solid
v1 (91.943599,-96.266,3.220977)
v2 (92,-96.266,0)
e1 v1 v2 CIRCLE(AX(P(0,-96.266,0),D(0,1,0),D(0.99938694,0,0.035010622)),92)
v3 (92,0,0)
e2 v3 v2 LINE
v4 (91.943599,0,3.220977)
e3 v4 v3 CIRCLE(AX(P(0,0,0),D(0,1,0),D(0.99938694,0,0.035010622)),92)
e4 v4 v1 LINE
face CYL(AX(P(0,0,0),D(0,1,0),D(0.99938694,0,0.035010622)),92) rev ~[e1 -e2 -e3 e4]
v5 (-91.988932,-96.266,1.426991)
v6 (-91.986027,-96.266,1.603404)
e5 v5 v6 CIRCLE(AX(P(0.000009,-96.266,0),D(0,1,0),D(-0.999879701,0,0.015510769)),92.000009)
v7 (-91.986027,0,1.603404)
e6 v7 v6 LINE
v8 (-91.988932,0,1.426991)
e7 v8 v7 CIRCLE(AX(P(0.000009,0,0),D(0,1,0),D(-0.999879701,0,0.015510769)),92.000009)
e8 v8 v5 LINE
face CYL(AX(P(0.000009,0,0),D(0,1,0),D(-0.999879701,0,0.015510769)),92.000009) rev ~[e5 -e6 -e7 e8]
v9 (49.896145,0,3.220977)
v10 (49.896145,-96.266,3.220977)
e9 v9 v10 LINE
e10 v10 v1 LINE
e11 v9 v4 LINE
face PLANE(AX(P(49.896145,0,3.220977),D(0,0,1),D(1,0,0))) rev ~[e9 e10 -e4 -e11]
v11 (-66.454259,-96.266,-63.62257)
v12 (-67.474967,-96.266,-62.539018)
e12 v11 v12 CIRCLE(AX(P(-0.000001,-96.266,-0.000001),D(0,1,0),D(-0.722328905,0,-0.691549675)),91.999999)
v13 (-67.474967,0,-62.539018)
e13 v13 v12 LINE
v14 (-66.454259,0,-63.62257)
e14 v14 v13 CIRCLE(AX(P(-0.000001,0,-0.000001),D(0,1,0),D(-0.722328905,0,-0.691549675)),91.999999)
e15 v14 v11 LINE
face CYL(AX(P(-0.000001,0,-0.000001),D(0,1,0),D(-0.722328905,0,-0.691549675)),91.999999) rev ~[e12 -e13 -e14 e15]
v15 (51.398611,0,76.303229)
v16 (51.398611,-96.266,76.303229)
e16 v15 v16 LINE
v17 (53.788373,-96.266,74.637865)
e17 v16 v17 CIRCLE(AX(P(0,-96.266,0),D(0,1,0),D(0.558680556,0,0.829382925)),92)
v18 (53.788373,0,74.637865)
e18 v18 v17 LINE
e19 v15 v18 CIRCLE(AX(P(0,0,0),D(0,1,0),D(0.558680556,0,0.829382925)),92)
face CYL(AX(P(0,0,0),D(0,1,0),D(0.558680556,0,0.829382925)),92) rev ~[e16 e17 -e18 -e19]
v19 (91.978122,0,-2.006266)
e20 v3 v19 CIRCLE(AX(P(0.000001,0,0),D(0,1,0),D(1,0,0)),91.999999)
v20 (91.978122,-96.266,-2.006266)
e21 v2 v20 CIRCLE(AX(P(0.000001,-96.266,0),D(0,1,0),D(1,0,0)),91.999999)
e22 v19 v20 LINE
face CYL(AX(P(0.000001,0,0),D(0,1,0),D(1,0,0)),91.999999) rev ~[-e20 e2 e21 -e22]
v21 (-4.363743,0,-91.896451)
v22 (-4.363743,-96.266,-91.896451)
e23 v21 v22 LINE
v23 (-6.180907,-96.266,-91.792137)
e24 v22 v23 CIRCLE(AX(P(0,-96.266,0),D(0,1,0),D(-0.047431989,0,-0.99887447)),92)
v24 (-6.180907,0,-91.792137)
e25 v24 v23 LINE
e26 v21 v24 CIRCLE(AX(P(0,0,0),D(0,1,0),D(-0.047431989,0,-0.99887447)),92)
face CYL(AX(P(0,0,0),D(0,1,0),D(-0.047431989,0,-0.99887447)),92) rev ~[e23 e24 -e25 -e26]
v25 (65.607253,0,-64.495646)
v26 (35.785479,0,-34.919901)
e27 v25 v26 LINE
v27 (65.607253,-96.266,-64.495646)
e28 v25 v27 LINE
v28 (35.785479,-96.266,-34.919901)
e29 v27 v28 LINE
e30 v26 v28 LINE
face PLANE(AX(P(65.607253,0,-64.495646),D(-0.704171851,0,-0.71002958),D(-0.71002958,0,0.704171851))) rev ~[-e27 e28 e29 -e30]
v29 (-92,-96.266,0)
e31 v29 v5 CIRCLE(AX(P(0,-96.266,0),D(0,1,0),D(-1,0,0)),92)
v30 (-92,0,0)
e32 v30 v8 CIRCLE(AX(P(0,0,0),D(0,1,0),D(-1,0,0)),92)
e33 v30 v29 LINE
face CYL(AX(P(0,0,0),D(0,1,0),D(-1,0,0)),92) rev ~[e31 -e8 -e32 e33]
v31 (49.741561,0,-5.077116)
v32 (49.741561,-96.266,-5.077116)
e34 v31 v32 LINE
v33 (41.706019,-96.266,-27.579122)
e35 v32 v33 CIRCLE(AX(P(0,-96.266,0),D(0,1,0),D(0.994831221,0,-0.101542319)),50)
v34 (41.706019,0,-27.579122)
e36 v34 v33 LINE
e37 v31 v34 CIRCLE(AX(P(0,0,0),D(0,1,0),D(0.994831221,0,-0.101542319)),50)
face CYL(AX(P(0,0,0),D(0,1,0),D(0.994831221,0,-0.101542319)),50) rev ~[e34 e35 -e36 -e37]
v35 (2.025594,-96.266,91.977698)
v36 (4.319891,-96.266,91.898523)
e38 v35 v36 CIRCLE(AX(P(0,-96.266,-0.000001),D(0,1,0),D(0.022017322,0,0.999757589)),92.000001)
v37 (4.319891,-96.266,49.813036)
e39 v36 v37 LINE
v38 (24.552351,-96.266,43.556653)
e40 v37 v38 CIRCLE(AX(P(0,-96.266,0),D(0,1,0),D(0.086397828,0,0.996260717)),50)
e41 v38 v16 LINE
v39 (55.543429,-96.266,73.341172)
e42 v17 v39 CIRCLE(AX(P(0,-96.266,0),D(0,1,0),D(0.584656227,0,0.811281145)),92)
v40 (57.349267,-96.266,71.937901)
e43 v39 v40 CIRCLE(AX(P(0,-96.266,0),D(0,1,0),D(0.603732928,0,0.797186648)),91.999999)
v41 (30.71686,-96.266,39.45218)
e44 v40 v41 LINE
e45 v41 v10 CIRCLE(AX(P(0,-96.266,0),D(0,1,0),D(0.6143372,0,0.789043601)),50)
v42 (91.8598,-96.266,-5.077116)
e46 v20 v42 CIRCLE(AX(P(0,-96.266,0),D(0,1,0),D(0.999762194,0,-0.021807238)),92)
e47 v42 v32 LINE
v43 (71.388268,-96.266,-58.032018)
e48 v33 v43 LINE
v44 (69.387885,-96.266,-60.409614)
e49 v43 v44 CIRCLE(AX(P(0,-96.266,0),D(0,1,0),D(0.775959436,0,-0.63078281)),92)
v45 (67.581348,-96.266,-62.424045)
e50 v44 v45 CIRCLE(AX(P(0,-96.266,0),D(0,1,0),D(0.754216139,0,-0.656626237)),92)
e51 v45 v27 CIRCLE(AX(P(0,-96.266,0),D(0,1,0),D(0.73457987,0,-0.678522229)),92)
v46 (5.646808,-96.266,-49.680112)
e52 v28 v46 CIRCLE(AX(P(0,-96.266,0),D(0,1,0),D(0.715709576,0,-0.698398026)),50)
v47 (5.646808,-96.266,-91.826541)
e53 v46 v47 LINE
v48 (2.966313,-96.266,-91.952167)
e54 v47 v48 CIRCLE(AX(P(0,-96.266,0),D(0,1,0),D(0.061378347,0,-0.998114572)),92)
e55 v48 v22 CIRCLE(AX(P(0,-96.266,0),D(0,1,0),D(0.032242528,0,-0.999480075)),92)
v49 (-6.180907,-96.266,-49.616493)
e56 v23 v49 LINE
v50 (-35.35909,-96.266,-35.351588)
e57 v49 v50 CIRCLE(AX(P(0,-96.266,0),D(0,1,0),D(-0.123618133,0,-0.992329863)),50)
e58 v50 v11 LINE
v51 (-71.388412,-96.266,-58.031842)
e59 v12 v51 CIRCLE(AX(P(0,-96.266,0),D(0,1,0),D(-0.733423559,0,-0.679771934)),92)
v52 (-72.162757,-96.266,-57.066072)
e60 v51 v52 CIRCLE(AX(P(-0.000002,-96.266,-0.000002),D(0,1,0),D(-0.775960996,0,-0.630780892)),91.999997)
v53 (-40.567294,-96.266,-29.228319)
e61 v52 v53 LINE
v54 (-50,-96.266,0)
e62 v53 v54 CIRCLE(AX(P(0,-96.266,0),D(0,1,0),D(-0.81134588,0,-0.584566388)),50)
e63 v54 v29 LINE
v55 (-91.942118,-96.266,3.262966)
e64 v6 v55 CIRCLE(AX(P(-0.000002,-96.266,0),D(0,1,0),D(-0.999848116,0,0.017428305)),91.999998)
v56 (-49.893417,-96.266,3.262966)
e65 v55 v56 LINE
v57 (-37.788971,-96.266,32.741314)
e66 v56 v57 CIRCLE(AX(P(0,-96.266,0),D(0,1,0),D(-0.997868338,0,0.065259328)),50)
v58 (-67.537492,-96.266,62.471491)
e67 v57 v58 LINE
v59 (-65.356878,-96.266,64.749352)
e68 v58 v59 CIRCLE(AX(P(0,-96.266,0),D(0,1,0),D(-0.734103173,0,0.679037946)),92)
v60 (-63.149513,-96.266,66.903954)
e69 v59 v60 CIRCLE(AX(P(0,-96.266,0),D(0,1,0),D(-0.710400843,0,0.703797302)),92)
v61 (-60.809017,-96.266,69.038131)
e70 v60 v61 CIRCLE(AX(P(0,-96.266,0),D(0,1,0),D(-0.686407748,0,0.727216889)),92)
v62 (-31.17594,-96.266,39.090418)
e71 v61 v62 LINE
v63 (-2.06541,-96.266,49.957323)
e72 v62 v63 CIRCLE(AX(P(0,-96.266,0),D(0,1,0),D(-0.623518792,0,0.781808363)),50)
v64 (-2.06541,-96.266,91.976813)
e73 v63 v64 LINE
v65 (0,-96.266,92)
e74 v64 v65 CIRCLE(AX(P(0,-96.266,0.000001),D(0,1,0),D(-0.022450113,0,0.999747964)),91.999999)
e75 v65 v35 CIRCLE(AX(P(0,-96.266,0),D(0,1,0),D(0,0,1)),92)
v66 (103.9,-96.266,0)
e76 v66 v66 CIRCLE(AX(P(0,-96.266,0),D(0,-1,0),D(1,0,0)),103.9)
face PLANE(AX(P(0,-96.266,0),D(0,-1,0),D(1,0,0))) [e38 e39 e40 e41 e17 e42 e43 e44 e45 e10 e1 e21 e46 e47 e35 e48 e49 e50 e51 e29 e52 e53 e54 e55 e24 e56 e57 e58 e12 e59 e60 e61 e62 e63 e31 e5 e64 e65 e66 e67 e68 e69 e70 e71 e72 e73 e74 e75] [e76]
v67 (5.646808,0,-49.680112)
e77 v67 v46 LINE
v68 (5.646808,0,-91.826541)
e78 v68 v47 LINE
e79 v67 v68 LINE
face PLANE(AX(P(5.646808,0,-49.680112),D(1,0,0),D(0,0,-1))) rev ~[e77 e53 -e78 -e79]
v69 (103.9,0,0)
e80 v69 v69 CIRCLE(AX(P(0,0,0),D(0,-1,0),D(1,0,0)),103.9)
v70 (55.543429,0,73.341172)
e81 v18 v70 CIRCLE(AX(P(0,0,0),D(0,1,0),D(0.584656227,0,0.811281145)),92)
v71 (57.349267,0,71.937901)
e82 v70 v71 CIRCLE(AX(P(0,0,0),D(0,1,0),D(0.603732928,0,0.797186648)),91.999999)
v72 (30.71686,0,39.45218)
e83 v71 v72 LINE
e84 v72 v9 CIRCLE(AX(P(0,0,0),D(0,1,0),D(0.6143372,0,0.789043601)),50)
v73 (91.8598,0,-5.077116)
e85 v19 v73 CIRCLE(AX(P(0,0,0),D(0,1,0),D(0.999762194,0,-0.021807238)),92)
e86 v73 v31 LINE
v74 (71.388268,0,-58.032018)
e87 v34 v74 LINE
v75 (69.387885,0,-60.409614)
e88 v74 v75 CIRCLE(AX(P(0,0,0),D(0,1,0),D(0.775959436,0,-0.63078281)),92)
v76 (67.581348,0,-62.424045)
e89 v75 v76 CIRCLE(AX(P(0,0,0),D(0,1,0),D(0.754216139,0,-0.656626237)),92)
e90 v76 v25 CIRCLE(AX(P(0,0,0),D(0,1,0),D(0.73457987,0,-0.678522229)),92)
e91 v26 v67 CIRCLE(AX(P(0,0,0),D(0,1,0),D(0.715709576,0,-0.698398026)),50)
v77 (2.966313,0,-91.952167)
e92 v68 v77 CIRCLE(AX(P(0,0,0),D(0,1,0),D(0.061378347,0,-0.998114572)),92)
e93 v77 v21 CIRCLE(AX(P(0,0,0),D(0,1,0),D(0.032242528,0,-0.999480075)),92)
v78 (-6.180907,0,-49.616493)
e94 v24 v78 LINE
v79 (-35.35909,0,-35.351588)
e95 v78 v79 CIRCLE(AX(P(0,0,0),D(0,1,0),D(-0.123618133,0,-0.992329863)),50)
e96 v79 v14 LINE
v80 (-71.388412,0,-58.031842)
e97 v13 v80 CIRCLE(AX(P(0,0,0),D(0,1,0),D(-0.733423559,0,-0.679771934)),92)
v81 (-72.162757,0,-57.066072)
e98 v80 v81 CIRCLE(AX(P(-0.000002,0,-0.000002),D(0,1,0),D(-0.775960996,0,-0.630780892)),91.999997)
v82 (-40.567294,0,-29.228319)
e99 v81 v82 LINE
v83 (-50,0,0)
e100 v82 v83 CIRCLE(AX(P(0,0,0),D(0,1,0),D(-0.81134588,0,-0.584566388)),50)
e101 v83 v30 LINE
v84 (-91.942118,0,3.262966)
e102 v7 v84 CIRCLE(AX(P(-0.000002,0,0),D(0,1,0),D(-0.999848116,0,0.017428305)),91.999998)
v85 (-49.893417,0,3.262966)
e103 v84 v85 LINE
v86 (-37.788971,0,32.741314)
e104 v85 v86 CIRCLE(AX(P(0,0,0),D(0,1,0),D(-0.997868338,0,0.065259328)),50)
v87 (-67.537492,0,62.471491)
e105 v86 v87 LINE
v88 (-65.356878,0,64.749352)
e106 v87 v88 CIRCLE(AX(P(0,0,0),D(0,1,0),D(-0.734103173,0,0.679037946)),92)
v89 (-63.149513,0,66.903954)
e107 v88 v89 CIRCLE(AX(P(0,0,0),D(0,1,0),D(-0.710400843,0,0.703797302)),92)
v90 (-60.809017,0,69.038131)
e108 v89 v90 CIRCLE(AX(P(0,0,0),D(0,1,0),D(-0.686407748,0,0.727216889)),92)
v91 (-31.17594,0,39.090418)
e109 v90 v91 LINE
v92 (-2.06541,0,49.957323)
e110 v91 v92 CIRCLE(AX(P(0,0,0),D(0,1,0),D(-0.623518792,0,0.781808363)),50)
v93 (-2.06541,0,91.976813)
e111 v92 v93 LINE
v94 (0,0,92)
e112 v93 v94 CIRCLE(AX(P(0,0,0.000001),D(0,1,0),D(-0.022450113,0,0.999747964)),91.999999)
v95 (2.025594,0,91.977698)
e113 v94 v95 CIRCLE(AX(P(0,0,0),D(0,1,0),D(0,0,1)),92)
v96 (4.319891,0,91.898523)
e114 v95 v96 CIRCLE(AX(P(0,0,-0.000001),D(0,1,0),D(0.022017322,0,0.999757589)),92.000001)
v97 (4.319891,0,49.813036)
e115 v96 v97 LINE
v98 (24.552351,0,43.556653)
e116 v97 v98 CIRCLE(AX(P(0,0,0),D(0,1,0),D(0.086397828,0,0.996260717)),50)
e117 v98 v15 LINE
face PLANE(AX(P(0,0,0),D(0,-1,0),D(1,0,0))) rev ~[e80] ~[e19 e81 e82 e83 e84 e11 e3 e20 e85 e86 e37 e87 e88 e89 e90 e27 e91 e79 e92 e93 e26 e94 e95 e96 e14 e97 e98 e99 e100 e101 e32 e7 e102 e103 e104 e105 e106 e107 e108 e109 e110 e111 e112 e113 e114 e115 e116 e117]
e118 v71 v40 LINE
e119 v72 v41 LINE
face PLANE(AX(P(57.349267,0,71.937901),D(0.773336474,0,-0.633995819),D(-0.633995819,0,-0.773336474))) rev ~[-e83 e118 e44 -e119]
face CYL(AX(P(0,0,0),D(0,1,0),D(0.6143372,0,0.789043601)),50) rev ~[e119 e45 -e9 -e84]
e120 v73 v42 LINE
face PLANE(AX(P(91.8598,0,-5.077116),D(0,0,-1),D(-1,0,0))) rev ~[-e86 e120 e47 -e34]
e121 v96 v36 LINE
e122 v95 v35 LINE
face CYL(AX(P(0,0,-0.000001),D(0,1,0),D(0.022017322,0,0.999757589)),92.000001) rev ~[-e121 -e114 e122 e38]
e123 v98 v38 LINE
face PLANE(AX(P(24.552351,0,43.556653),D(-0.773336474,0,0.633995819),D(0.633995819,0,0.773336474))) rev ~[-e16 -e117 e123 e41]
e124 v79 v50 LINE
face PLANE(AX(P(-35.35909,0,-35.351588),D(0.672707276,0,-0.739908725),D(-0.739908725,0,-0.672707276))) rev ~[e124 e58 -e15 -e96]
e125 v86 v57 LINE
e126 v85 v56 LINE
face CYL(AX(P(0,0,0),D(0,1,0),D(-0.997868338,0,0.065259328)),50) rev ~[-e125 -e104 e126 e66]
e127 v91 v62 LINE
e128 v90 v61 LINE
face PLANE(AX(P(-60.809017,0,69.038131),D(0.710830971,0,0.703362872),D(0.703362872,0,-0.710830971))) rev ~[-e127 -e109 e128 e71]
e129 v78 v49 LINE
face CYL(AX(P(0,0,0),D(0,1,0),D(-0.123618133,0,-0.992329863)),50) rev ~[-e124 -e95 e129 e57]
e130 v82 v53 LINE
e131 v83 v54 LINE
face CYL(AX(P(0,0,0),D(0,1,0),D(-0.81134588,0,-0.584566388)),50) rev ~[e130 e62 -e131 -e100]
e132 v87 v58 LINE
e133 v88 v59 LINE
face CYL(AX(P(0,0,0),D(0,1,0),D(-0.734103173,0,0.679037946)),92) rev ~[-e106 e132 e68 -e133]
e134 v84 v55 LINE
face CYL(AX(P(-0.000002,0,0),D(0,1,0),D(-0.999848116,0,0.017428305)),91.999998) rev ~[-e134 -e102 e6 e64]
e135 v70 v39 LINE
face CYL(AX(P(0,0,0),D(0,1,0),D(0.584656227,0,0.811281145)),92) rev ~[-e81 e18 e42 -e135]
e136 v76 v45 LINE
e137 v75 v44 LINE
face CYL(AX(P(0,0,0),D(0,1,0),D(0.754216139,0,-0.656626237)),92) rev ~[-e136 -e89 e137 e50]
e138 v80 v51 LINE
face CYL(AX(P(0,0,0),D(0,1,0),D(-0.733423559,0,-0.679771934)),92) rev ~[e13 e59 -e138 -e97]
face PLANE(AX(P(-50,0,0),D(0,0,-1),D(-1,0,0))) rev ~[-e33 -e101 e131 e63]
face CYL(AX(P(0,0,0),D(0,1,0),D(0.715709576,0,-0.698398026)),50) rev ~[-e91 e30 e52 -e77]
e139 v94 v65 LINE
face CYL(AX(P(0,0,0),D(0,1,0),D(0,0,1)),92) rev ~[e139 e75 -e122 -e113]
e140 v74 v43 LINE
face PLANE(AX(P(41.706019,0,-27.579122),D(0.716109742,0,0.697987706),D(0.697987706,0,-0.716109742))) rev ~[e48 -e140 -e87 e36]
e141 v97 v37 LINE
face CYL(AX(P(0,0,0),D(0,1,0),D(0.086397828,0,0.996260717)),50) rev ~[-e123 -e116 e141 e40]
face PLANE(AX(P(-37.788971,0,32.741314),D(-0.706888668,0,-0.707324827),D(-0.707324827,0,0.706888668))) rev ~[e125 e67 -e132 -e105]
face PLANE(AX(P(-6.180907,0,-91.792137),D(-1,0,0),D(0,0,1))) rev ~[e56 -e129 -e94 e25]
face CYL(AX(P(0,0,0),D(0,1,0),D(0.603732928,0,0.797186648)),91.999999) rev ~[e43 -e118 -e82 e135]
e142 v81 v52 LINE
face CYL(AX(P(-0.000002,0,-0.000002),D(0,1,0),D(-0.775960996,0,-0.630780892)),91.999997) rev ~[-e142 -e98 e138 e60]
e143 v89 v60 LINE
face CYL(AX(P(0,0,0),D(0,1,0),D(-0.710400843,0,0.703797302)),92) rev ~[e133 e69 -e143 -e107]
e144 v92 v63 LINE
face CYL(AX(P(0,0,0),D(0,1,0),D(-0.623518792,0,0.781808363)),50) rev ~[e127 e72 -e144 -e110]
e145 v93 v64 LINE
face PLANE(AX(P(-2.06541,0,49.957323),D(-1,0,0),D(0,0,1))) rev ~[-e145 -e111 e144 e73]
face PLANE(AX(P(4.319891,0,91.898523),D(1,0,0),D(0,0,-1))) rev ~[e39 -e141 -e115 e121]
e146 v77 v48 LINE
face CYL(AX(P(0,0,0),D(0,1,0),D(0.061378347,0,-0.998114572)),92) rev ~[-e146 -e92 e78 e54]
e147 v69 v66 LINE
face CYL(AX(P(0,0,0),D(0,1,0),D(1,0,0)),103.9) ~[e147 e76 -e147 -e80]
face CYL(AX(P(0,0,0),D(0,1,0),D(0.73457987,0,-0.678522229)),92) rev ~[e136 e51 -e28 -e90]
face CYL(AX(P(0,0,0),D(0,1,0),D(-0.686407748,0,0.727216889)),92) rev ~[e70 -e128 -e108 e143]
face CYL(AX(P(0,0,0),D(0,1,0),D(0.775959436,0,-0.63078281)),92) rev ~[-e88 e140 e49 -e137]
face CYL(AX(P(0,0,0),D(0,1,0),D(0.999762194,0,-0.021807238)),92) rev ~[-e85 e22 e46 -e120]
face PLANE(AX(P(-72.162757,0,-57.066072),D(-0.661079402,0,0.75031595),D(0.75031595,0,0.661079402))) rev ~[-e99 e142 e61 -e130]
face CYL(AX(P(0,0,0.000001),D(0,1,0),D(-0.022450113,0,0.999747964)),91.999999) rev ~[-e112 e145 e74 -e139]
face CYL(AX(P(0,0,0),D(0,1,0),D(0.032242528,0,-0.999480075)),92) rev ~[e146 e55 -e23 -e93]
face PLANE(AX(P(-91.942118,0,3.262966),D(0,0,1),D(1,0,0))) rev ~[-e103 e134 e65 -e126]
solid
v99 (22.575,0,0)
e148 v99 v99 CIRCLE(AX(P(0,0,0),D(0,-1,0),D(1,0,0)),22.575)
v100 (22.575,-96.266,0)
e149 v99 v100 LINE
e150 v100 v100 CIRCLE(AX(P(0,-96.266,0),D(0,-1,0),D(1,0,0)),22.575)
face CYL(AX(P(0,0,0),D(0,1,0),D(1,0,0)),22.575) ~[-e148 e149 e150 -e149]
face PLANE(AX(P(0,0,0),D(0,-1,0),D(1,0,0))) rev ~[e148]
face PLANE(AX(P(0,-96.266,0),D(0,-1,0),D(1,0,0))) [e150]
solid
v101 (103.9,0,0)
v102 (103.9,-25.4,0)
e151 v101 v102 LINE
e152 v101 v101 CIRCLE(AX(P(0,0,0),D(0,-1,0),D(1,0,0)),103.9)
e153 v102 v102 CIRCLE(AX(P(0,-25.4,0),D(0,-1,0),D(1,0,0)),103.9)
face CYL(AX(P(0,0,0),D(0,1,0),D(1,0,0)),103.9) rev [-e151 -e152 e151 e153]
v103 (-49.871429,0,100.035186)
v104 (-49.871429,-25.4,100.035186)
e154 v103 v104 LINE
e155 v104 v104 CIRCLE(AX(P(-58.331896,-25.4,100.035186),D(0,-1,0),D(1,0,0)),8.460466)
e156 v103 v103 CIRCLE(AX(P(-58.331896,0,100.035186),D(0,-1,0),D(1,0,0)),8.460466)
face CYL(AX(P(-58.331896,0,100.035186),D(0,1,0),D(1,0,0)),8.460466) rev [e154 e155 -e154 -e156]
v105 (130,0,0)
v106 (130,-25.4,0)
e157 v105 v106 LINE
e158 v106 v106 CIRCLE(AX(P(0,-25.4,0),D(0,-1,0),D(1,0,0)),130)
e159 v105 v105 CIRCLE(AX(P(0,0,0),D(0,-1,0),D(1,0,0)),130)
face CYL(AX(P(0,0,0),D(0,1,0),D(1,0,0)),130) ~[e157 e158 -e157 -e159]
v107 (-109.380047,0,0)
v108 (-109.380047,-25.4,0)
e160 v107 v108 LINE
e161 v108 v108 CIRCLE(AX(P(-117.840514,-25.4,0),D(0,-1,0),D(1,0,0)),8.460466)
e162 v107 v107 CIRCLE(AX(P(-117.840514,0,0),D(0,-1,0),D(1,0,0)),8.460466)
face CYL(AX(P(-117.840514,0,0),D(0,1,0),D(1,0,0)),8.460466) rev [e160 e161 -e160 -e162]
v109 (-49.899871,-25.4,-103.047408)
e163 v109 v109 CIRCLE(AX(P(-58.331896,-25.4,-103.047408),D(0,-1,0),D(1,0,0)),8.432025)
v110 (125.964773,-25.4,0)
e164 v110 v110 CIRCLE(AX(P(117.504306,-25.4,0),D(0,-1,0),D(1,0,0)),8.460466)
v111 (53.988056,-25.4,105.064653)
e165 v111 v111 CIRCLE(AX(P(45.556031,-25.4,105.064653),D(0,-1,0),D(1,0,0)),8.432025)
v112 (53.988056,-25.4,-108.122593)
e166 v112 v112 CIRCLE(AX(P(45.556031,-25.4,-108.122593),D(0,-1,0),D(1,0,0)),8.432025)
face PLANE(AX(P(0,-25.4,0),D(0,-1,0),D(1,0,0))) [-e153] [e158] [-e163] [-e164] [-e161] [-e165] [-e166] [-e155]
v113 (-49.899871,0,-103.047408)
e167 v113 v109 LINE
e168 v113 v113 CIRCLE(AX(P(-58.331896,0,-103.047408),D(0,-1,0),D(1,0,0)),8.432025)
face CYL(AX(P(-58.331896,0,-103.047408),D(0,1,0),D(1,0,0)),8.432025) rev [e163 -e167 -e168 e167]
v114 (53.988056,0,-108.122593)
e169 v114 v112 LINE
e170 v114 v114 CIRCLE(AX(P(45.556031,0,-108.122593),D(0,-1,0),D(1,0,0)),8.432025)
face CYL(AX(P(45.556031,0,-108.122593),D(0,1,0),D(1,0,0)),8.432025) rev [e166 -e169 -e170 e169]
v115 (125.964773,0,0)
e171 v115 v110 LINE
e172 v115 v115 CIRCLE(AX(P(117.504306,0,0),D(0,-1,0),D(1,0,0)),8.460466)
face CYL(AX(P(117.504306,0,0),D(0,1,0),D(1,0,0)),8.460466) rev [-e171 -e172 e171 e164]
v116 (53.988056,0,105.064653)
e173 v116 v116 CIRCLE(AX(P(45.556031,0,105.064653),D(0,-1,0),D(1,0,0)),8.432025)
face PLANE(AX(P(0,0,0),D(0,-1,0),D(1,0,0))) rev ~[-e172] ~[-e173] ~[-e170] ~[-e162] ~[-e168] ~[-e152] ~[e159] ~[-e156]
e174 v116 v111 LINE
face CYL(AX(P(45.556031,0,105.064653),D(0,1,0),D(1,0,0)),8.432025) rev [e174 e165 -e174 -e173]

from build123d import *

# Parameters (mm, degrees)
F0_R     = 130
F0_R_2   = 8.4320247837
F0_R_3   = 8.4604664224
F0_R_4   = 103.9
F1_DEPTH = 25.4
F0_R_5   = 22.575
F2_DEPTH = 96.266
F0_R_6   = 100


with BuildPart() as f1:
    # F0 (on Front) → F1 (new body)
    with BuildSketch(Plane.XZ):
        Circle(F0_R)
        with Locations((-58.3318956196, -103.0474081635)):
            Circle(F0_R_2, mode=Mode.SUBTRACT)
        with Locations((45.5560311675, -108.1225928525)):
            Circle(F0_R_2, mode=Mode.SUBTRACT)
        with Locations((-117.840513587, 0)):
            Circle(F0_R_3, mode=Mode.SUBTRACT)
        with Locations((-58.3318956196, 100.035185645)):
            Circle(F0_R_3, mode=Mode.SUBTRACT)
        Circle(F0_R_4, mode=Mode.SUBTRACT)
        with Locations((117.5043061376, 0)):
            Circle(F0_R_3, mode=Mode.SUBTRACT)
        with Locations((45.5560311675, 105.0646528602)):
            Circle(F0_R_2, mode=Mode.SUBTRACT)
    extrude(amount=F1_DEPTH)


with BuildPart() as f2:
    # F0 (on Front) → F2 (new body)
    with BuildSketch(Plane.XZ):
        Circle(F0_R_5)
    extrude(amount=F2_DEPTH)


with BuildPart() as f2b:
    # F0 (on Front) → F2, piece 2 (new body)
    with BuildSketch(Plane.XZ):
        Circle(F0_R_4)
        Circle(F0_R_6, mode=Mode.SUBTRACT)
        Circle(F0_R_6)
        with BuildLine():
            ThreePointArc((91.943598503, 3.2209772296), (91.985898545, 1.610735503), (92, 0))
            ThreePointArc((92, 0), (91.9945302976, -1.0031925668), (91.9781218407, -2.0062658473))
            ThreePointArc((91.9781218407, -2.0062658473), (91.931784088, -3.5421849738), (91.8598002052, -5.07711594))
            ThreePointArc((91.8598002052, -5.07711594), (85.8110621158, -33.1732063352), (71.3882681475, -58.0320184976))
            ThreePointArc((71.3882681475, -58.0320184976), (70.398114687, -59.2292617591), (69.3878848277, -60.4096137973))
            ThreePointArc((69.3878848277, -60.4096137973), (68.4920226657, -61.4234713376), (67.5813480023, -62.4240450643))
            ThreePointArc((67.5813480023, -62.4240450643), (66.6023552591, -63.4675214101), (65.6072527589, -64.4956462517))
            ThreePointArc((65.6072527589, -64.4956462517), (38.1579577102, -83.7136205368), (5.6468078972, -91.8265406109))
            ThreePointArc((5.6468078972, -91.8265406109), (4.3070182777, -91.8991272731), (2.9663125492, -91.9521668579))
            ThreePointArc((2.9663125492, -91.9521668579), (-0.6992703547, -91.9973424669), (-4.3637430068, -91.8964512208))
            ThreePointArc((-4.3637430068, -91.8964512208), (-5.2725828132, -91.848788073), (-6.1809066605, -91.7921368792))
            ThreePointArc((-6.1809066605, -91.7921368792), (-38.9531507817, -83.3465778792), (-66.4542592722, -63.6225700879))
            ThreePointArc((-66.4542592722, -63.6225700879), (-66.9668049503, -63.0828584859), (-67.4749674699, -62.5390179402))
            ThreePointArc((-67.4749674699, -62.5390179402), (-69.4682529705, -60.3171769003), (-71.3884116058, -58.0318420214))
            ThreePointArc((-71.3884116058, -58.0318420214), (-71.77720849, -57.5502592643), (-72.1627567009, -57.066071753))
            ThreePointArc((-72.1627567009, -57.066071753), (-86.6327457977, -30.963968666), (-91.9860266314, -1.6034040539))
            ThreePointArc((-91.9860266314, -1.6034040539), (-91.9965065915, -0.8017324702), (-92, 0))
            ThreePointArc((-92, 0), (-91.9972330765, 0.7135168314), (-91.9889324724, 1.4269907443))
            ThreePointArc((-91.9889324724, 1.4269907443), (-91.9875218425, 1.5151980957), (-91.9860266314, 1.6034040539))
            ThreePointArc((-91.9860266314, 1.6034040539), (-91.9678157166, 2.4332842667), (-91.9421179347, 3.2629663919))
            ThreePointArc((-91.9421179347, 3.2629663919), (-85.0579145918, 35.0592522066), (-67.5374918971, 62.4714910039))
            ThreePointArc((-67.5374918971, 62.4714910039), (-66.4569448496, 63.6197648632), (-65.3568775289, 64.7493518089))
            ThreePointArc((-65.3568775289, 64.7493518089), (-64.2622258258, 65.8359045804), (-63.1495128287, 66.9039537658))
            ThreePointArc((-63.1495128287, 66.9039537658), (-61.988450086, 67.9811154361), (-60.8090167909, 69.0381306013))
            ThreePointArc((-60.8090167909, 69.0381306013), (-33.4640730256, 85.6980502494), (-2.0654104118, 91.9768127292))
            ThreePointArc((-2.0654104118, 91.9768127292), (-1.0327702817, 91.9942029997), (0, 92))
            ThreePointArc((0, 92), (1.0128581982, 91.9944243869), (2.0255936289, 91.9776982233))
            ThreePointArc((2.0255936289, 91.9776982233), (3.1729894719, 91.9452670767), (4.3198913837, 91.8985230482))
            ThreePointArc((4.3198913837, 91.8985230482), (28.9299356948, 87.3330339602), (51.3986111458, 76.3032291078))
            ThreePointArc((51.3986111458, 76.3032291078), (52.6000832749, 75.4800055609), (53.7883728669, 74.6378653522))
            ThreePointArc((53.7883728669, 74.6378653522), (54.6697457556, 73.9947221024), (55.5434294104, 73.3411715841))
            ThreePointArc((55.5434294104, 73.3411715841), (56.4507085305, 72.6451478518), (57.3492665734, 71.9379011613))
            ThreePointArc((57.3492665734, 71.9379011613), (82.1741674697, 41.3691455152), (91.943598503, 3.2209772296))
        make_face(mode=Mode.SUBTRACT)
        with BuildLine():
            ThreePointArc((30.7168600193, 39.4521800482), (44.190374144, 23.3925379771), (49.8961451987, 3.2209772296))
            Line((49.8961451987, 3.2209772296), (91.943598503, 3.2209772296))
            ThreePointArc((91.943598503, 3.2209772296), (82.1741674697, 41.3691455152), (57.3492665734, 71.9379011613))
            Line((57.3492665734, 71.9379011613), (30.7168600193, 39.4521800482))
        make_face()
        with BuildLine():
            Line((65.6072527589, -64.4956462517), (35.7854787982, -34.9199013055))
            ThreePointArc((35.7854787982, -34.9199013055), (21.9914654476, -44.9040693865), (5.6468078972, -49.6801123245))
            Line((5.6468078972, -49.6801123245), (5.6468078972, -91.8265406109))
            ThreePointArc((5.6468078972, -91.8265406109), (38.1579577102, -83.7136205368), (65.6072527589, -64.4956462517))
        make_face()
        with BuildLine():
            Line((-6.1809066605, -91.7921368792), (-6.1809066605, -49.6164931535))
            ThreePointArc((-6.1809066605, -49.6164931535), (-21.9605262736, -44.9192084279), (-35.3590900652, -35.3515876554))
            Line((-35.3590900652, -35.3515876554), (-66.4542592722, -63.6225700879))
            ThreePointArc((-66.4542592722, -63.6225700879), (-38.9531507817, -83.3465778792), (-6.1809066605, -91.7921368792))
        make_face()
        with BuildLine():
            ThreePointArc((-49.8934169037, 3.2629663919), (-46.252497704, 18.9922735907), (-37.7889712211, 32.7413141772))
            Line((-37.7889712211, 32.7413141772), (-67.5374918971, 62.4714910039))
            ThreePointArc((-67.5374918971, 62.4714910039), (-85.0579145918, 35.0592522066), (-91.9421179347, 3.2629663919))
            Line((-91.9421179347, 3.2629663919), (-49.8934169037, 3.2629663919))
        make_face()
        with BuildLine():
            ThreePointArc((-31.1759395801, 39.090418152), (-17.4862586138, 46.8426169176), (-2.0654104118, 49.9573225847))
            Line((-2.0654104118, 49.9573225847), (-2.0654104118, 91.9768127292))
            ThreePointArc((-2.0654104118, 91.9768127292), (-33.4640730256, 85.6980502494), (-60.8090167909, 69.0381306013))
            Line((-60.8090167909, 69.0381306013), (-31.1759395801, 39.090418152))
        make_face()
        with BuildLine():
            Line((-72.1627567009, -57.066071753), (-40.5672940167, -29.2283194208))
            ThreePointArc((-40.5672940167, -29.2283194208), (-47.5834251648, -15.3563553483), (-50, 0))
            Line((-50, 0), (-92, 0))
            ThreePointArc((-92, 0), (-91.9965065915, -0.8017324702), (-91.9860266314, -1.6034040539))
            ThreePointArc((-91.9860266314, -1.6034040539), (-86.6327457977, -30.963968666), (-72.1627567009, -57.066071753))
        make_face()
        with BuildLine():
            Line((91.8598002052, -5.07711594), (49.7415610303, -5.07711594))
            ThreePointArc((49.7415610303, -5.07711594), (47.0876847242, -16.8151701541), (41.7060192908, -27.5791217213))
            Line((41.7060192908, -27.5791217213), (71.3882681475, -58.0320184976))
            ThreePointArc((71.3882681475, -58.0320184976), (85.8110621158, -33.1732063352), (91.8598002052, -5.07711594))
        make_face()
        with BuildLine():
            ThreePointArc((4.3198913837, 49.8130358283), (14.7711602976, 47.7683244783), (24.552351085, 43.5566534091))
            Line((24.552351085, 43.5566534091), (51.3986111458, 76.3032291078))
            ThreePointArc((51.3986111458, 76.3032291078), (28.9299356948, 87.3330339602), (4.3198913837, 91.8985230482))
            Line((4.3198913837, 91.8985230482), (4.3198913837, 49.8130358283))
        make_face()
    extrude(amount=F2_DEPTH)


solid = Compound([f1.part, f2.part, f2b.part])
